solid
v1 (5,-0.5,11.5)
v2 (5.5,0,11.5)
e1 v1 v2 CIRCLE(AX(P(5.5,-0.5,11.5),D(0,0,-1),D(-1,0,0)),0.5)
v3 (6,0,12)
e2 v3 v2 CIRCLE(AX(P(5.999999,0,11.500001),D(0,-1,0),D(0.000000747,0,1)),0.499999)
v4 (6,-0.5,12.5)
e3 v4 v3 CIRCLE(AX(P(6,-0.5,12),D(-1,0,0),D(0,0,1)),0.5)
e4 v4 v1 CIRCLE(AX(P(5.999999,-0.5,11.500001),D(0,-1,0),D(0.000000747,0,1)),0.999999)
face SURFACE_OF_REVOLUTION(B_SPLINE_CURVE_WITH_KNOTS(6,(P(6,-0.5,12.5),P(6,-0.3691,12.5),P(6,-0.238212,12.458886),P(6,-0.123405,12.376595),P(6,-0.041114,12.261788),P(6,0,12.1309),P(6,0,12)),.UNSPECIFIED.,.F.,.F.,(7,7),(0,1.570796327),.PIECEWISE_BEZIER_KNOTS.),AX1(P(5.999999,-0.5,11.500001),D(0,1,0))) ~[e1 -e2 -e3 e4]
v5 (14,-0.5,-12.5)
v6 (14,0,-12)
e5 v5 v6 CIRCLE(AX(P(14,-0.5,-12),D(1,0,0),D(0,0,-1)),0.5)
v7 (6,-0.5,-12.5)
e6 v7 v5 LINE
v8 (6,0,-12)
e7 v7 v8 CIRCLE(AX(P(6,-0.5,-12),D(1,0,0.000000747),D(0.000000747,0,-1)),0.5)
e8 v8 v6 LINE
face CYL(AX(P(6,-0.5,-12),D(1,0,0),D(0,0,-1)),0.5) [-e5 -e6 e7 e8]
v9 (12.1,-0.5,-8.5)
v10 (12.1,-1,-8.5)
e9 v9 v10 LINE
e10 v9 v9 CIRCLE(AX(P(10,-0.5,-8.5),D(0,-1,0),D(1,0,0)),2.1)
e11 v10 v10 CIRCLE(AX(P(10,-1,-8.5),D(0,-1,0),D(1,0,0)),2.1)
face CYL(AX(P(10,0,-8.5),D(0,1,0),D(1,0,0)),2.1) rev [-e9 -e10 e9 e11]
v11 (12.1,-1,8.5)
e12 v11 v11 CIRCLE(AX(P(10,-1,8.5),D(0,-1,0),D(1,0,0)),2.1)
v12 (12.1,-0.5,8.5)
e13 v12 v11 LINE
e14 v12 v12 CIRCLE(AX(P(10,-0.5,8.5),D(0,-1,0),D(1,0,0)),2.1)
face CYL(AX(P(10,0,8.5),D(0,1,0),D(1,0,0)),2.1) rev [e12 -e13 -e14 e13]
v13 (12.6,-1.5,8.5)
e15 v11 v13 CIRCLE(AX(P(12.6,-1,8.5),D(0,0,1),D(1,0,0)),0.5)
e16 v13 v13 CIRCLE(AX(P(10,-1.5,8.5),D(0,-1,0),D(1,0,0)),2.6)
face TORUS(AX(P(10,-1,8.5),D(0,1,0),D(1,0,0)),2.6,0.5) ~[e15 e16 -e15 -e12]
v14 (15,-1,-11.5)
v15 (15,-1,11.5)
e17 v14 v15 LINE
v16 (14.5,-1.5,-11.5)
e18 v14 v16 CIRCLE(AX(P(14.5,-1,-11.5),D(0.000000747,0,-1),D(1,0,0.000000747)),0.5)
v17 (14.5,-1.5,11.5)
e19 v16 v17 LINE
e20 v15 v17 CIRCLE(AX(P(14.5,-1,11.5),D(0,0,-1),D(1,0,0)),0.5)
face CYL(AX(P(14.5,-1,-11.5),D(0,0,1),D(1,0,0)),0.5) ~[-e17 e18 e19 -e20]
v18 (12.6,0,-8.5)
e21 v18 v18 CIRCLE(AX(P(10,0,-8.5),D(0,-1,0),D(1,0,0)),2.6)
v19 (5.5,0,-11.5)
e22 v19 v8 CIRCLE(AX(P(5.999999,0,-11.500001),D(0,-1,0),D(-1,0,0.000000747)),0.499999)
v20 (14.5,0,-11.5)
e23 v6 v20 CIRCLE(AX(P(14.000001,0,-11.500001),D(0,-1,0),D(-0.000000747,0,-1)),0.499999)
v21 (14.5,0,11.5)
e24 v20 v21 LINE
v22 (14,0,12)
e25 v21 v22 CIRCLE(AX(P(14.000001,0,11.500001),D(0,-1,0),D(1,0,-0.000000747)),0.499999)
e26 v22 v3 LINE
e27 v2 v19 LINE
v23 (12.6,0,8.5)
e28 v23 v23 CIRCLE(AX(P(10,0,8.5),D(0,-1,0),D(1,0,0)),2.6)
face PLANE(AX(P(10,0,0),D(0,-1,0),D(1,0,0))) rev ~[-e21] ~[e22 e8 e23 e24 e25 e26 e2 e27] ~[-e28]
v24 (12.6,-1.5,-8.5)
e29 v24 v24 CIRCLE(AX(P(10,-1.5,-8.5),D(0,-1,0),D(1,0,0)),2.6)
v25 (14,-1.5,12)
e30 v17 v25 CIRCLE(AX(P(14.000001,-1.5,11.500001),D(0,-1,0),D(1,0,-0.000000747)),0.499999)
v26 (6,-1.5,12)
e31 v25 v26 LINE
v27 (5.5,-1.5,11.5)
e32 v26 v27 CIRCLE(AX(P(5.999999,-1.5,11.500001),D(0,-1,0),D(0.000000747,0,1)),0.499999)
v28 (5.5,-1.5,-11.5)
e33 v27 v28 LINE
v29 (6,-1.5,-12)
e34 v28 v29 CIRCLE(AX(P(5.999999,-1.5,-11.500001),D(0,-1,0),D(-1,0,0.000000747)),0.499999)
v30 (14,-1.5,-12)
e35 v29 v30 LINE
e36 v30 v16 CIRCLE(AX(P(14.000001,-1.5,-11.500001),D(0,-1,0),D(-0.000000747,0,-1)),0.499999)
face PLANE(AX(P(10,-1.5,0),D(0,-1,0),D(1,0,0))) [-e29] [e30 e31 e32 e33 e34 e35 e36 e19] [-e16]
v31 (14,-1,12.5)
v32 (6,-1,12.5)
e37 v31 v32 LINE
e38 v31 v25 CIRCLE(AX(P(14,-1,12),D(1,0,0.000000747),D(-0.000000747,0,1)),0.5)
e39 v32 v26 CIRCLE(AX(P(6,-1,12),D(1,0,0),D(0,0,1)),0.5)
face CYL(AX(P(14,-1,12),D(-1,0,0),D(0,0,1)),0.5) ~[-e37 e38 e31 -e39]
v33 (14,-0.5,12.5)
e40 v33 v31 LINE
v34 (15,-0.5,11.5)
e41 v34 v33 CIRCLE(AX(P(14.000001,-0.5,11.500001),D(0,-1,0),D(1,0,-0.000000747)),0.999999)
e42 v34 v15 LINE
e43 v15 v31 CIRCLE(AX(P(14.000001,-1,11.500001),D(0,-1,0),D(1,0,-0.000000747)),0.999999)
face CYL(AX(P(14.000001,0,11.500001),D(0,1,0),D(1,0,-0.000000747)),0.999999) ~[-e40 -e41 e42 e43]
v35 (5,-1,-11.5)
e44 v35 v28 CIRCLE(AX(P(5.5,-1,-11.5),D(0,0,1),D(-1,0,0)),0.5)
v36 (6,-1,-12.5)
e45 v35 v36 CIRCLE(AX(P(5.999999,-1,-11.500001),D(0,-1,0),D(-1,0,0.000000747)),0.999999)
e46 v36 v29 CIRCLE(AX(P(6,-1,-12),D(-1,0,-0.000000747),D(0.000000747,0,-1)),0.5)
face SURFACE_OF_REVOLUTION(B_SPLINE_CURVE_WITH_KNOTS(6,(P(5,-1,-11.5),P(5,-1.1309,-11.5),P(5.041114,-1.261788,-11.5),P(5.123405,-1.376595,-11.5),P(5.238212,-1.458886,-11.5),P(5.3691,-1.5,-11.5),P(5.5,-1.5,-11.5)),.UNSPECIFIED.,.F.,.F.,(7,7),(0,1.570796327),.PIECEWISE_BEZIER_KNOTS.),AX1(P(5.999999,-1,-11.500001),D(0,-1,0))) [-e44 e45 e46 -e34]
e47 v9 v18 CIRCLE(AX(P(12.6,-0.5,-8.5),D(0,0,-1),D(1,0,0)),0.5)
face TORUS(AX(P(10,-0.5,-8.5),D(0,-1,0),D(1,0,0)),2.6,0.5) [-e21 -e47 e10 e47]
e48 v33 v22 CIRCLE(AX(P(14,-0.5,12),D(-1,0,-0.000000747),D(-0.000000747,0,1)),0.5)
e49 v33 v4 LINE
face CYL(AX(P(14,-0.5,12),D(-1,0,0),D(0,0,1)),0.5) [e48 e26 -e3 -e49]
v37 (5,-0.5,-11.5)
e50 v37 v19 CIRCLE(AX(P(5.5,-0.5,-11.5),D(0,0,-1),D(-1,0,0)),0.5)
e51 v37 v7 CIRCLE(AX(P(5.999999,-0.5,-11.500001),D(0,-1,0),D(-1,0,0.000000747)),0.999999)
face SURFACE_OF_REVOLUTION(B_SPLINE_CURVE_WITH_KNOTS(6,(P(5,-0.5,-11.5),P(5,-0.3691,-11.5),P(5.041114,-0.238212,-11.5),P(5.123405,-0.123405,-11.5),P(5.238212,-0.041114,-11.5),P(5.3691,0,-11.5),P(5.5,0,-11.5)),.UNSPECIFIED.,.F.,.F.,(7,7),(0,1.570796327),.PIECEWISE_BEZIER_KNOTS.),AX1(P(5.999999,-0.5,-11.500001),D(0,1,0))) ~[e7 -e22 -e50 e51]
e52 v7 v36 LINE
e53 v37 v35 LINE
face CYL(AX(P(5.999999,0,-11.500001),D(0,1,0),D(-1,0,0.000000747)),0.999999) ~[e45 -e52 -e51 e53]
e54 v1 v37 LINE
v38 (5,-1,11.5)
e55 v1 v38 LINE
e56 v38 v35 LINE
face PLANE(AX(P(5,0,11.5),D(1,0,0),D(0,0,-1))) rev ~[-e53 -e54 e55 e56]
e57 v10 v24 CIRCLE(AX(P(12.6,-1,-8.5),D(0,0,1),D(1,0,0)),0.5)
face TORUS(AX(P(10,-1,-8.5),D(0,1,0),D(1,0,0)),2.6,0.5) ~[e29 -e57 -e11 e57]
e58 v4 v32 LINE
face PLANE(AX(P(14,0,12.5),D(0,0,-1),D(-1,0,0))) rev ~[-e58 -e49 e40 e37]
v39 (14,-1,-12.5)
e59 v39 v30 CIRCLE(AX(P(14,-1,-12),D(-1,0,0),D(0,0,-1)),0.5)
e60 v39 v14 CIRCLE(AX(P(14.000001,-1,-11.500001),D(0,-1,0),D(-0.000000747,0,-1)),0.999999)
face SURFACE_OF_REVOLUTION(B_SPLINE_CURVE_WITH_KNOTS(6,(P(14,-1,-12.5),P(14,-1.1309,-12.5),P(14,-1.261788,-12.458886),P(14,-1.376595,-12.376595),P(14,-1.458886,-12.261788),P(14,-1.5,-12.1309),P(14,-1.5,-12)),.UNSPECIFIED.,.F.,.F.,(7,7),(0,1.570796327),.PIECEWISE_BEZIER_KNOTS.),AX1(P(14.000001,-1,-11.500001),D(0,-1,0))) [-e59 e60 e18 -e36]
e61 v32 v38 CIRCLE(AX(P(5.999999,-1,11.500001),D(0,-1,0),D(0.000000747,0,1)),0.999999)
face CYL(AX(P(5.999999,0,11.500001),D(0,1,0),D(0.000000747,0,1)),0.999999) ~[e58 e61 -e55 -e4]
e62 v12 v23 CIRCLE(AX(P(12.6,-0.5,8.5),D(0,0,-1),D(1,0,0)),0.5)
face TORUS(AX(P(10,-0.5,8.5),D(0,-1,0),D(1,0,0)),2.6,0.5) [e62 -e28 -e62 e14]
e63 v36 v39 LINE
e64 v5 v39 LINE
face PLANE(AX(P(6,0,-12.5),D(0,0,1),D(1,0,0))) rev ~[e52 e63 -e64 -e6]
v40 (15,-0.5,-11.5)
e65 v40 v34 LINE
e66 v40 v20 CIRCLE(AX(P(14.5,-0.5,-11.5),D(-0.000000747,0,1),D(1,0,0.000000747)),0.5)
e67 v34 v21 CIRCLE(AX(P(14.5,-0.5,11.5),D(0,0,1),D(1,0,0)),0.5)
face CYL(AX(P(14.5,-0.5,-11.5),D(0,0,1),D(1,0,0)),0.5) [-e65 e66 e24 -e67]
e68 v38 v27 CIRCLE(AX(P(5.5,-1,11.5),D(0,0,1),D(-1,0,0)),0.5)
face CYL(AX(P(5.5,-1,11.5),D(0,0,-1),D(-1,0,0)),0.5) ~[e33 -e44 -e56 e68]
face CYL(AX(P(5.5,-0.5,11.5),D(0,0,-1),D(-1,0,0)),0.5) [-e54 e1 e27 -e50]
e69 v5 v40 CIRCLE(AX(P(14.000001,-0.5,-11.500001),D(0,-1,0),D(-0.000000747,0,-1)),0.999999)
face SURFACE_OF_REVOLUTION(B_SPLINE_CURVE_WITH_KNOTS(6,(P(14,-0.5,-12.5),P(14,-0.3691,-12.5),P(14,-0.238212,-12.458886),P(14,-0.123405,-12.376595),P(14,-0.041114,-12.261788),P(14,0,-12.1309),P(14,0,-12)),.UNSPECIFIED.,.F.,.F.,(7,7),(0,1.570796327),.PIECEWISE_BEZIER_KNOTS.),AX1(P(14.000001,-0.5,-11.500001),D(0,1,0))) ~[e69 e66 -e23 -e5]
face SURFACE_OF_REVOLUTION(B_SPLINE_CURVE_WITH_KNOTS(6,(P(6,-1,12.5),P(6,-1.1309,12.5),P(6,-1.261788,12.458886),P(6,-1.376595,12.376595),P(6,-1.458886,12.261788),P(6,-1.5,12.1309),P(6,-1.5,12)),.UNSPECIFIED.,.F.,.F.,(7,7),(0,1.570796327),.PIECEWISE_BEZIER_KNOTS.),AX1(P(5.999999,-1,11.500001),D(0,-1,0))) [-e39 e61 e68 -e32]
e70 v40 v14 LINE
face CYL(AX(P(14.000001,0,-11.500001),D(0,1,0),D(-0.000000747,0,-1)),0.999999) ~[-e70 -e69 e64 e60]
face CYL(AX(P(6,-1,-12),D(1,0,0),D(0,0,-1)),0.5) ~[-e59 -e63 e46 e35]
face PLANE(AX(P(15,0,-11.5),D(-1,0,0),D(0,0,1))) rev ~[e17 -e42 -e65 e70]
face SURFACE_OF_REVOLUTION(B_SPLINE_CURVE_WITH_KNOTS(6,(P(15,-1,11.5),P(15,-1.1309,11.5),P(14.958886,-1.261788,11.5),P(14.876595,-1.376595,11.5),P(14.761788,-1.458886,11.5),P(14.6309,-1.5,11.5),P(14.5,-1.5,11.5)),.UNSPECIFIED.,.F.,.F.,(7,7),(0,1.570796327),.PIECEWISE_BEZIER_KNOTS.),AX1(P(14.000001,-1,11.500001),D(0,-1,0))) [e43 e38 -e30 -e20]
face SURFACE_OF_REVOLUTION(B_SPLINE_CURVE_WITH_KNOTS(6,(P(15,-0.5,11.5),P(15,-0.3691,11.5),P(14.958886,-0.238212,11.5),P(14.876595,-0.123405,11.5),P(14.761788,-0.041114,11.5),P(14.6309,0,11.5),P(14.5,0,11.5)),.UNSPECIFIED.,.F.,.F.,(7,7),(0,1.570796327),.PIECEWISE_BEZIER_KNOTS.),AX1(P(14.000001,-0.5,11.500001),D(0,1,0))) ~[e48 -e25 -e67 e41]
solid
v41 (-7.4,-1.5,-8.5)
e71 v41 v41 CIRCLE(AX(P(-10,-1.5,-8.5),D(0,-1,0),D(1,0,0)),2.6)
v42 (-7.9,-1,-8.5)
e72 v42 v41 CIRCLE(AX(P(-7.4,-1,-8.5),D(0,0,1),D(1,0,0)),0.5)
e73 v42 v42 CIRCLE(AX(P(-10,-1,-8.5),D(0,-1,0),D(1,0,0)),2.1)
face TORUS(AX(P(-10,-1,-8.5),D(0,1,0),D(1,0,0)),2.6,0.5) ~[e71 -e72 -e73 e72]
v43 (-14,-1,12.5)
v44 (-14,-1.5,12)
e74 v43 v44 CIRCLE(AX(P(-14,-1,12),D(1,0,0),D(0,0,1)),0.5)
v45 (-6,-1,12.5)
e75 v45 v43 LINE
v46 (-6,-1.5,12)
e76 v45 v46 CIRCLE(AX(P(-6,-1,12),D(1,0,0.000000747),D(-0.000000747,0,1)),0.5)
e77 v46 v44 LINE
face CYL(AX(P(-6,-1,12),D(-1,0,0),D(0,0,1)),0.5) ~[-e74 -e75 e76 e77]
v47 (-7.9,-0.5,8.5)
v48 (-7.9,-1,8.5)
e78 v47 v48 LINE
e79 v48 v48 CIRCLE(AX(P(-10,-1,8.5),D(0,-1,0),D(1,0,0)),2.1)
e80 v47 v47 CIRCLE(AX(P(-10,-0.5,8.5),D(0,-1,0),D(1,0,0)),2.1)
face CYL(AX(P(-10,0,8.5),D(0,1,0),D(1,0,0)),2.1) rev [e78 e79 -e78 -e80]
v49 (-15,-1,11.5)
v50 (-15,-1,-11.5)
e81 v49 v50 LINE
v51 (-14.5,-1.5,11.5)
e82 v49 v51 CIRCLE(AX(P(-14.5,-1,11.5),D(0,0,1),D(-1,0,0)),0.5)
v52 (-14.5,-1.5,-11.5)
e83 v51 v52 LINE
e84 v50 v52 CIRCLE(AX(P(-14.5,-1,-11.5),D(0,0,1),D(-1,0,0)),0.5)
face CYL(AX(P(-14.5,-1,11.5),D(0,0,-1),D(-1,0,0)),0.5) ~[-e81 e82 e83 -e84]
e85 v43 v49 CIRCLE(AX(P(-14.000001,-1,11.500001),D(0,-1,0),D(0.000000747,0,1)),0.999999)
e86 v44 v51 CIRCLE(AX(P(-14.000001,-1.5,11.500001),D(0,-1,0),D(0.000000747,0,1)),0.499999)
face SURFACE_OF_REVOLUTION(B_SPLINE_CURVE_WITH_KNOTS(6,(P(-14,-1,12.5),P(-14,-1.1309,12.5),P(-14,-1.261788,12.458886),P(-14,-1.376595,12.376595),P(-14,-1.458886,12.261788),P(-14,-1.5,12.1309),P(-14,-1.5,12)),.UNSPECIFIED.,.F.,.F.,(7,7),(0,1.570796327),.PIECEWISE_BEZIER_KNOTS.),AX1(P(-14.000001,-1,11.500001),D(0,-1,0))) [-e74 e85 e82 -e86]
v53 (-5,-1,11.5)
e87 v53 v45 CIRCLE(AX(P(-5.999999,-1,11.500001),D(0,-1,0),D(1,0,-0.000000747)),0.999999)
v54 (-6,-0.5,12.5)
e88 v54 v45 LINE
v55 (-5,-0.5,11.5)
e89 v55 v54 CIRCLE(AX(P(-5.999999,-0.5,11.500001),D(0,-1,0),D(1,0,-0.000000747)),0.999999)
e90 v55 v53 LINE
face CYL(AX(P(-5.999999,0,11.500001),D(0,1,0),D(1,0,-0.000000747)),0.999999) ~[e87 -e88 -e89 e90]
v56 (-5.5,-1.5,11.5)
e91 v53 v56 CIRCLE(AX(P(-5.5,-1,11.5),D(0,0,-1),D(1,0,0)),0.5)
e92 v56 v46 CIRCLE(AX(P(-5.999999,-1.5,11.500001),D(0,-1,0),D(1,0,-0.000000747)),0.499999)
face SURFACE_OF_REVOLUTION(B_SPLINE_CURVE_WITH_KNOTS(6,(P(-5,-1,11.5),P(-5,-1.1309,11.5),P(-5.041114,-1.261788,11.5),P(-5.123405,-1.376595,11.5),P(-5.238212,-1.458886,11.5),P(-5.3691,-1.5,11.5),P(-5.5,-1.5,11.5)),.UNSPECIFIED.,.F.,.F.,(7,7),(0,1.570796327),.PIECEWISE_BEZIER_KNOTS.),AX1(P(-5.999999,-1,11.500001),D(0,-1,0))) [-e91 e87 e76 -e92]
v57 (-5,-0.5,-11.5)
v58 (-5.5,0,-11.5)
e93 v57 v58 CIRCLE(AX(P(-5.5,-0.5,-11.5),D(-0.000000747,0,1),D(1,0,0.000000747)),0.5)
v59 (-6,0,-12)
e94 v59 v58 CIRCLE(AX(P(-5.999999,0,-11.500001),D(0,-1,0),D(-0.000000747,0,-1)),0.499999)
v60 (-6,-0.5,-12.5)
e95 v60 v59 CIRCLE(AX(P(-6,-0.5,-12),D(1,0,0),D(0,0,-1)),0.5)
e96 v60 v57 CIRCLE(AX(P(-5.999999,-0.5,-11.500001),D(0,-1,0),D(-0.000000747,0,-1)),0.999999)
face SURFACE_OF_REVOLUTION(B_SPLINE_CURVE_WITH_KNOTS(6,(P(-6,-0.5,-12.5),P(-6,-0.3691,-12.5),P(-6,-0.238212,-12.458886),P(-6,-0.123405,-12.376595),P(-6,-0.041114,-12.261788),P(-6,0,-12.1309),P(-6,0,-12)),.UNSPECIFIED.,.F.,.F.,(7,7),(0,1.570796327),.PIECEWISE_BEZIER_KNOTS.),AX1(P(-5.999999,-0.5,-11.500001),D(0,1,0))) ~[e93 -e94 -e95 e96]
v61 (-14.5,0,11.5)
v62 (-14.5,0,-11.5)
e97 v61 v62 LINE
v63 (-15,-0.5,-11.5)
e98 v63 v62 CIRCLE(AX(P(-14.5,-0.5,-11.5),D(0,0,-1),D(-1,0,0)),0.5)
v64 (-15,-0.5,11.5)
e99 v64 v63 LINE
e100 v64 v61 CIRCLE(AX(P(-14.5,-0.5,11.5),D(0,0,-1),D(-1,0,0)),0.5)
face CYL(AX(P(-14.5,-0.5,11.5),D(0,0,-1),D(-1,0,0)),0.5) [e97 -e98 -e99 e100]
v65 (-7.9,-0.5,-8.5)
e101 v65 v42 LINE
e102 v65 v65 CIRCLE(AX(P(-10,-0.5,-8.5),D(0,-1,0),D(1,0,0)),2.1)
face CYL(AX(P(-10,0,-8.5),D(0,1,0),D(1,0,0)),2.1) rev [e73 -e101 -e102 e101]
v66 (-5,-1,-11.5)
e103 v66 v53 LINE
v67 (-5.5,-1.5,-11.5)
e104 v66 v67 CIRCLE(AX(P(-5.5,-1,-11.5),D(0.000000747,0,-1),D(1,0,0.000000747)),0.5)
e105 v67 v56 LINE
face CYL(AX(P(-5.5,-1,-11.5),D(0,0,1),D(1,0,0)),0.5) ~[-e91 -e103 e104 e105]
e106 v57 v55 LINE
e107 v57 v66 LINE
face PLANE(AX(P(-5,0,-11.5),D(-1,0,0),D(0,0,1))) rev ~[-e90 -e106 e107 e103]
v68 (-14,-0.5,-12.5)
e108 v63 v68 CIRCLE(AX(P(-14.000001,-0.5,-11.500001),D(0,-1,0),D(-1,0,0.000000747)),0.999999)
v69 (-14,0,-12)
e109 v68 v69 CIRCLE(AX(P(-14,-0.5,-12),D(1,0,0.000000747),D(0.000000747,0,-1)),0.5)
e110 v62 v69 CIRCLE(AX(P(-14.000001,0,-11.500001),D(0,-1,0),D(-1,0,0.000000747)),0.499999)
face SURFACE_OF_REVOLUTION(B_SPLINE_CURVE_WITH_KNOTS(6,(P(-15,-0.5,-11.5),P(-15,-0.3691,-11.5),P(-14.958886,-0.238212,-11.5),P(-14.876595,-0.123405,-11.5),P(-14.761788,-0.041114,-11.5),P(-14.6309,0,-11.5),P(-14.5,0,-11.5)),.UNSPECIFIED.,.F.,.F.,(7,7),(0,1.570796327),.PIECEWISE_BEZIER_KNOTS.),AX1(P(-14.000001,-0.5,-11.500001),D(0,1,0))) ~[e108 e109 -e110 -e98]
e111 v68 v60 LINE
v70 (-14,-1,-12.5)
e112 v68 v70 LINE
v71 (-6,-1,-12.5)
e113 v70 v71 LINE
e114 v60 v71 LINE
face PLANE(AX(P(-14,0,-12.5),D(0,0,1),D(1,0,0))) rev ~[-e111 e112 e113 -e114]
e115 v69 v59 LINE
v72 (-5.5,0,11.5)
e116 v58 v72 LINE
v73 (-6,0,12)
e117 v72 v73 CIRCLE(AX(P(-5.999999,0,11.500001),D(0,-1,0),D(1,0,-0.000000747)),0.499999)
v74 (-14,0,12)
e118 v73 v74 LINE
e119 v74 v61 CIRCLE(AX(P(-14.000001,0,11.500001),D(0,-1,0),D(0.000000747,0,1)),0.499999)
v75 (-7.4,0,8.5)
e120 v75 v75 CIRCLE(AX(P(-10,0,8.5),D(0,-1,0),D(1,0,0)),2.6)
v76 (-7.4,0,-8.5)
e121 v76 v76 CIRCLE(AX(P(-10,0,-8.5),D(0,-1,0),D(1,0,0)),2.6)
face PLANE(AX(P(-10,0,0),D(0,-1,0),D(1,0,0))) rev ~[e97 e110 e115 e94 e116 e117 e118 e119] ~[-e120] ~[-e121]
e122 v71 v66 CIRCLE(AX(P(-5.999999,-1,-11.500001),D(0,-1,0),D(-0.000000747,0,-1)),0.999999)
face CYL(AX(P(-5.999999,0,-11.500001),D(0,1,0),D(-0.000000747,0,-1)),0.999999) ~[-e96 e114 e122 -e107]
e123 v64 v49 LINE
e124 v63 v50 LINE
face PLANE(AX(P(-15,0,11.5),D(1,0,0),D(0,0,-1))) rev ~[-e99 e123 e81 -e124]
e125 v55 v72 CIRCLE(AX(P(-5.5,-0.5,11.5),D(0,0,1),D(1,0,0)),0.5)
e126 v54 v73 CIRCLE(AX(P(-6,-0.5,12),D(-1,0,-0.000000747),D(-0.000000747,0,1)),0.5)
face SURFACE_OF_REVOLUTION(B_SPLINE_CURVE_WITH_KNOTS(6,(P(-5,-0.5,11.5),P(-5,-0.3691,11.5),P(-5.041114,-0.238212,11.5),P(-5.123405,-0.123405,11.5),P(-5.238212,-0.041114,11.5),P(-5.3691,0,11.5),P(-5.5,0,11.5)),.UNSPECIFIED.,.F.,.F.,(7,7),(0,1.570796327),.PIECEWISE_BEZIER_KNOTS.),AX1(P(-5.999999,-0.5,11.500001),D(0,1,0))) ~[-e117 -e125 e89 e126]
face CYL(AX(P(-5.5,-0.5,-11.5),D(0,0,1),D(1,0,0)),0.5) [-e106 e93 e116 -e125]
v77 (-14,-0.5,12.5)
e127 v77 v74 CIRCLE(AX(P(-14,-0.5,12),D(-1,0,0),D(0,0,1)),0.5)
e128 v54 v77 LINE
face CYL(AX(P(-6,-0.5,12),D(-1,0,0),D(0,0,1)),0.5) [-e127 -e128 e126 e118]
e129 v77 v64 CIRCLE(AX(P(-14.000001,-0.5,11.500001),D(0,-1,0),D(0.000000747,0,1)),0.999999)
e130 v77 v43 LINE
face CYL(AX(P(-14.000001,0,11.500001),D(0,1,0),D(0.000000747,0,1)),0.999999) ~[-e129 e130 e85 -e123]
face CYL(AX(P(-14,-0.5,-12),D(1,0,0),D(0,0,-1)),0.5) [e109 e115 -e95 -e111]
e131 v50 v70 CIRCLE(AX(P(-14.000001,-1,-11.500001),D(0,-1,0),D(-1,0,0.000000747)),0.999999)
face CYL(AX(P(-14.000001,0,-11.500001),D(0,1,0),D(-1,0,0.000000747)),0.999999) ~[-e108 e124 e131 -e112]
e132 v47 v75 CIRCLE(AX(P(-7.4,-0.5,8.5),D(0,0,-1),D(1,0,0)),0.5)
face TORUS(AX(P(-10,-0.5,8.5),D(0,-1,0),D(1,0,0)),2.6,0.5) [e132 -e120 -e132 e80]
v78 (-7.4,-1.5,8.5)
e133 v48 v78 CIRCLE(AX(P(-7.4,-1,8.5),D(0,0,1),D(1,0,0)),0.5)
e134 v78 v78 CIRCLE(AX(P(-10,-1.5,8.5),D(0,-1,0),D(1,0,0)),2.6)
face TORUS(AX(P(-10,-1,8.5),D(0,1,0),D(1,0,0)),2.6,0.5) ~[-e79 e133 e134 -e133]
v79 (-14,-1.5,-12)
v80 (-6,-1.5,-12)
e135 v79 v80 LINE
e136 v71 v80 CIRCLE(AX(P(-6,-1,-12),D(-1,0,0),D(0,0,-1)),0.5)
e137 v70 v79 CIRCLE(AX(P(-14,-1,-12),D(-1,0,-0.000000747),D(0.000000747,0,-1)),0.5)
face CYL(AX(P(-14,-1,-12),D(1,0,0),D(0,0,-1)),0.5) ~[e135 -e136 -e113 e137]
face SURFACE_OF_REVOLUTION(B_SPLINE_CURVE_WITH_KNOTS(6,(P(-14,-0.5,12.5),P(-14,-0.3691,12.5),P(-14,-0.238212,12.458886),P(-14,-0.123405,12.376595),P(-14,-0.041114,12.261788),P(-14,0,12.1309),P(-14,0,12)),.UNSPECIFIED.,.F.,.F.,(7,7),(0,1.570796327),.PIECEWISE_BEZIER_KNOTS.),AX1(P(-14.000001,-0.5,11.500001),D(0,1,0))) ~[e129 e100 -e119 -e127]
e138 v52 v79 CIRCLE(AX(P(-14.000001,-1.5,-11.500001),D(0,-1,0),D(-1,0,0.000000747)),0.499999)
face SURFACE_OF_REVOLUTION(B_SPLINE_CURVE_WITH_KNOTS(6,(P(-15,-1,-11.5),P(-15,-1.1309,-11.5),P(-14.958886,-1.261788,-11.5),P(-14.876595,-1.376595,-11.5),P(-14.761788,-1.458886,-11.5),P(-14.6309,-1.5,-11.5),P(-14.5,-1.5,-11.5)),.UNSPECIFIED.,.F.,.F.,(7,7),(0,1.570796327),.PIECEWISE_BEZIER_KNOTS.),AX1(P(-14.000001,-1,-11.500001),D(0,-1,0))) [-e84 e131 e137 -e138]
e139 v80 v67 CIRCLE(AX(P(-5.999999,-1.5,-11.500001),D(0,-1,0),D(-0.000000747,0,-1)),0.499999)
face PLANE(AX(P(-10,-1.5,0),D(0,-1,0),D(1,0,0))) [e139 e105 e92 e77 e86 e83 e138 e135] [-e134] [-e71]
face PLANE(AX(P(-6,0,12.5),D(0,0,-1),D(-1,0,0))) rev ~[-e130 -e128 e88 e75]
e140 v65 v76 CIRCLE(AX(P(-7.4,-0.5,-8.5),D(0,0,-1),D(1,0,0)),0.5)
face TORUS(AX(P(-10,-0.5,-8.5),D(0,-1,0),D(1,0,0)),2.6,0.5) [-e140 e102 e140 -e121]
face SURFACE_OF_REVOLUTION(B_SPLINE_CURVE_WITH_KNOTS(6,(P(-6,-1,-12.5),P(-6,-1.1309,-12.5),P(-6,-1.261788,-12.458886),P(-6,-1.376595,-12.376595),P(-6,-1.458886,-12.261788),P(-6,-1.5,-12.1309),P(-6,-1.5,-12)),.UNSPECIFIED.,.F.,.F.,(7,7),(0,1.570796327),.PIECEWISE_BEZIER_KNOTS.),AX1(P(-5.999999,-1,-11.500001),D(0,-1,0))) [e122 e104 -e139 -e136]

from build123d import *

# Parameters (mm, degrees)
F0_R     = 2.1
F1_DEPTH = 1.5
F2_R     = 0.5


with BuildPart() as f1:
    # F0 (on Front) → F1 (new body)
    with BuildSketch(Plane.XZ):
        with BuildLine():
            Line((14, 12.5), (6, 12.5))
            ThreePointArc((6, 12.5), (5.292893, 12.207107), (5, 11.5))
            Line((5, 11.5), (5, -11.5))
            ThreePointArc((5, -11.5), (5.292893, -12.207107), (6, -12.5))
            Line((6, -12.5), (14, -12.5))
            ThreePointArc((14, -12.5), (14.707107, -12.207107), (15, -11.5))
            Line((15, -11.5), (15, 11.5))
            ThreePointArc((15, 11.5), (14.707107, 12.207107), (14, 12.5))
        make_face()
        with Locations((10, -8.5)):
            Circle(F0_R, mode=Mode.SUBTRACT)
        with Locations((10, 8.5)):
            Circle(F0_R, mode=Mode.SUBTRACT)
        with BuildLine():
            ThreePointArc((-5, 11.5), (-5.292893, 12.207107), (-6, 12.5))
            Line((-6, 12.5), (-14, 12.5))
            ThreePointArc((-14, 12.5), (-14.707107, 12.207107), (-15, 11.5))
            Line((-15, 11.5), (-15, -11.5))
            ThreePointArc((-15, -11.5), (-14.707107, -12.207107), (-14, -12.5))
            Line((-14, -12.5), (-6, -12.5))
            ThreePointArc((-6, -12.5), (-5.292893, -12.207107), (-5, -11.5))
            Line((-5, -11.5), (-5, 11.5))
        make_face()
        with Locations((-10, -8.5)):
            Circle(F0_R, mode=Mode.SUBTRACT)
        with Locations((-10, 8.5)):
            Circle(F0_R, mode=Mode.SUBTRACT)
    extrude(amount=F1_DEPTH)

    # F2
    f2_edges = [f1.edges().sort_by_distance(p)[0] for p in [
        (-15, -1.5, 0),
        (5, -1.5, 0),
        (-12.1, -1.5, 8.5),
        (-12.1, -1.5, -8.5),
        (7.9, -1.5, 8.5),
        (7.9, -1.5, -8.5),
        (-15, 0, 0),
        (-12.1, 0, -8.5),
        (-12.1, 0, 8.5),
        (5, 0, 0),
        (7.9, 0, -8.5),
        (7.9, 0, 8.5),
    ]]
    fillet(f2_edges, radius=F2_R)


solid = f1.part
